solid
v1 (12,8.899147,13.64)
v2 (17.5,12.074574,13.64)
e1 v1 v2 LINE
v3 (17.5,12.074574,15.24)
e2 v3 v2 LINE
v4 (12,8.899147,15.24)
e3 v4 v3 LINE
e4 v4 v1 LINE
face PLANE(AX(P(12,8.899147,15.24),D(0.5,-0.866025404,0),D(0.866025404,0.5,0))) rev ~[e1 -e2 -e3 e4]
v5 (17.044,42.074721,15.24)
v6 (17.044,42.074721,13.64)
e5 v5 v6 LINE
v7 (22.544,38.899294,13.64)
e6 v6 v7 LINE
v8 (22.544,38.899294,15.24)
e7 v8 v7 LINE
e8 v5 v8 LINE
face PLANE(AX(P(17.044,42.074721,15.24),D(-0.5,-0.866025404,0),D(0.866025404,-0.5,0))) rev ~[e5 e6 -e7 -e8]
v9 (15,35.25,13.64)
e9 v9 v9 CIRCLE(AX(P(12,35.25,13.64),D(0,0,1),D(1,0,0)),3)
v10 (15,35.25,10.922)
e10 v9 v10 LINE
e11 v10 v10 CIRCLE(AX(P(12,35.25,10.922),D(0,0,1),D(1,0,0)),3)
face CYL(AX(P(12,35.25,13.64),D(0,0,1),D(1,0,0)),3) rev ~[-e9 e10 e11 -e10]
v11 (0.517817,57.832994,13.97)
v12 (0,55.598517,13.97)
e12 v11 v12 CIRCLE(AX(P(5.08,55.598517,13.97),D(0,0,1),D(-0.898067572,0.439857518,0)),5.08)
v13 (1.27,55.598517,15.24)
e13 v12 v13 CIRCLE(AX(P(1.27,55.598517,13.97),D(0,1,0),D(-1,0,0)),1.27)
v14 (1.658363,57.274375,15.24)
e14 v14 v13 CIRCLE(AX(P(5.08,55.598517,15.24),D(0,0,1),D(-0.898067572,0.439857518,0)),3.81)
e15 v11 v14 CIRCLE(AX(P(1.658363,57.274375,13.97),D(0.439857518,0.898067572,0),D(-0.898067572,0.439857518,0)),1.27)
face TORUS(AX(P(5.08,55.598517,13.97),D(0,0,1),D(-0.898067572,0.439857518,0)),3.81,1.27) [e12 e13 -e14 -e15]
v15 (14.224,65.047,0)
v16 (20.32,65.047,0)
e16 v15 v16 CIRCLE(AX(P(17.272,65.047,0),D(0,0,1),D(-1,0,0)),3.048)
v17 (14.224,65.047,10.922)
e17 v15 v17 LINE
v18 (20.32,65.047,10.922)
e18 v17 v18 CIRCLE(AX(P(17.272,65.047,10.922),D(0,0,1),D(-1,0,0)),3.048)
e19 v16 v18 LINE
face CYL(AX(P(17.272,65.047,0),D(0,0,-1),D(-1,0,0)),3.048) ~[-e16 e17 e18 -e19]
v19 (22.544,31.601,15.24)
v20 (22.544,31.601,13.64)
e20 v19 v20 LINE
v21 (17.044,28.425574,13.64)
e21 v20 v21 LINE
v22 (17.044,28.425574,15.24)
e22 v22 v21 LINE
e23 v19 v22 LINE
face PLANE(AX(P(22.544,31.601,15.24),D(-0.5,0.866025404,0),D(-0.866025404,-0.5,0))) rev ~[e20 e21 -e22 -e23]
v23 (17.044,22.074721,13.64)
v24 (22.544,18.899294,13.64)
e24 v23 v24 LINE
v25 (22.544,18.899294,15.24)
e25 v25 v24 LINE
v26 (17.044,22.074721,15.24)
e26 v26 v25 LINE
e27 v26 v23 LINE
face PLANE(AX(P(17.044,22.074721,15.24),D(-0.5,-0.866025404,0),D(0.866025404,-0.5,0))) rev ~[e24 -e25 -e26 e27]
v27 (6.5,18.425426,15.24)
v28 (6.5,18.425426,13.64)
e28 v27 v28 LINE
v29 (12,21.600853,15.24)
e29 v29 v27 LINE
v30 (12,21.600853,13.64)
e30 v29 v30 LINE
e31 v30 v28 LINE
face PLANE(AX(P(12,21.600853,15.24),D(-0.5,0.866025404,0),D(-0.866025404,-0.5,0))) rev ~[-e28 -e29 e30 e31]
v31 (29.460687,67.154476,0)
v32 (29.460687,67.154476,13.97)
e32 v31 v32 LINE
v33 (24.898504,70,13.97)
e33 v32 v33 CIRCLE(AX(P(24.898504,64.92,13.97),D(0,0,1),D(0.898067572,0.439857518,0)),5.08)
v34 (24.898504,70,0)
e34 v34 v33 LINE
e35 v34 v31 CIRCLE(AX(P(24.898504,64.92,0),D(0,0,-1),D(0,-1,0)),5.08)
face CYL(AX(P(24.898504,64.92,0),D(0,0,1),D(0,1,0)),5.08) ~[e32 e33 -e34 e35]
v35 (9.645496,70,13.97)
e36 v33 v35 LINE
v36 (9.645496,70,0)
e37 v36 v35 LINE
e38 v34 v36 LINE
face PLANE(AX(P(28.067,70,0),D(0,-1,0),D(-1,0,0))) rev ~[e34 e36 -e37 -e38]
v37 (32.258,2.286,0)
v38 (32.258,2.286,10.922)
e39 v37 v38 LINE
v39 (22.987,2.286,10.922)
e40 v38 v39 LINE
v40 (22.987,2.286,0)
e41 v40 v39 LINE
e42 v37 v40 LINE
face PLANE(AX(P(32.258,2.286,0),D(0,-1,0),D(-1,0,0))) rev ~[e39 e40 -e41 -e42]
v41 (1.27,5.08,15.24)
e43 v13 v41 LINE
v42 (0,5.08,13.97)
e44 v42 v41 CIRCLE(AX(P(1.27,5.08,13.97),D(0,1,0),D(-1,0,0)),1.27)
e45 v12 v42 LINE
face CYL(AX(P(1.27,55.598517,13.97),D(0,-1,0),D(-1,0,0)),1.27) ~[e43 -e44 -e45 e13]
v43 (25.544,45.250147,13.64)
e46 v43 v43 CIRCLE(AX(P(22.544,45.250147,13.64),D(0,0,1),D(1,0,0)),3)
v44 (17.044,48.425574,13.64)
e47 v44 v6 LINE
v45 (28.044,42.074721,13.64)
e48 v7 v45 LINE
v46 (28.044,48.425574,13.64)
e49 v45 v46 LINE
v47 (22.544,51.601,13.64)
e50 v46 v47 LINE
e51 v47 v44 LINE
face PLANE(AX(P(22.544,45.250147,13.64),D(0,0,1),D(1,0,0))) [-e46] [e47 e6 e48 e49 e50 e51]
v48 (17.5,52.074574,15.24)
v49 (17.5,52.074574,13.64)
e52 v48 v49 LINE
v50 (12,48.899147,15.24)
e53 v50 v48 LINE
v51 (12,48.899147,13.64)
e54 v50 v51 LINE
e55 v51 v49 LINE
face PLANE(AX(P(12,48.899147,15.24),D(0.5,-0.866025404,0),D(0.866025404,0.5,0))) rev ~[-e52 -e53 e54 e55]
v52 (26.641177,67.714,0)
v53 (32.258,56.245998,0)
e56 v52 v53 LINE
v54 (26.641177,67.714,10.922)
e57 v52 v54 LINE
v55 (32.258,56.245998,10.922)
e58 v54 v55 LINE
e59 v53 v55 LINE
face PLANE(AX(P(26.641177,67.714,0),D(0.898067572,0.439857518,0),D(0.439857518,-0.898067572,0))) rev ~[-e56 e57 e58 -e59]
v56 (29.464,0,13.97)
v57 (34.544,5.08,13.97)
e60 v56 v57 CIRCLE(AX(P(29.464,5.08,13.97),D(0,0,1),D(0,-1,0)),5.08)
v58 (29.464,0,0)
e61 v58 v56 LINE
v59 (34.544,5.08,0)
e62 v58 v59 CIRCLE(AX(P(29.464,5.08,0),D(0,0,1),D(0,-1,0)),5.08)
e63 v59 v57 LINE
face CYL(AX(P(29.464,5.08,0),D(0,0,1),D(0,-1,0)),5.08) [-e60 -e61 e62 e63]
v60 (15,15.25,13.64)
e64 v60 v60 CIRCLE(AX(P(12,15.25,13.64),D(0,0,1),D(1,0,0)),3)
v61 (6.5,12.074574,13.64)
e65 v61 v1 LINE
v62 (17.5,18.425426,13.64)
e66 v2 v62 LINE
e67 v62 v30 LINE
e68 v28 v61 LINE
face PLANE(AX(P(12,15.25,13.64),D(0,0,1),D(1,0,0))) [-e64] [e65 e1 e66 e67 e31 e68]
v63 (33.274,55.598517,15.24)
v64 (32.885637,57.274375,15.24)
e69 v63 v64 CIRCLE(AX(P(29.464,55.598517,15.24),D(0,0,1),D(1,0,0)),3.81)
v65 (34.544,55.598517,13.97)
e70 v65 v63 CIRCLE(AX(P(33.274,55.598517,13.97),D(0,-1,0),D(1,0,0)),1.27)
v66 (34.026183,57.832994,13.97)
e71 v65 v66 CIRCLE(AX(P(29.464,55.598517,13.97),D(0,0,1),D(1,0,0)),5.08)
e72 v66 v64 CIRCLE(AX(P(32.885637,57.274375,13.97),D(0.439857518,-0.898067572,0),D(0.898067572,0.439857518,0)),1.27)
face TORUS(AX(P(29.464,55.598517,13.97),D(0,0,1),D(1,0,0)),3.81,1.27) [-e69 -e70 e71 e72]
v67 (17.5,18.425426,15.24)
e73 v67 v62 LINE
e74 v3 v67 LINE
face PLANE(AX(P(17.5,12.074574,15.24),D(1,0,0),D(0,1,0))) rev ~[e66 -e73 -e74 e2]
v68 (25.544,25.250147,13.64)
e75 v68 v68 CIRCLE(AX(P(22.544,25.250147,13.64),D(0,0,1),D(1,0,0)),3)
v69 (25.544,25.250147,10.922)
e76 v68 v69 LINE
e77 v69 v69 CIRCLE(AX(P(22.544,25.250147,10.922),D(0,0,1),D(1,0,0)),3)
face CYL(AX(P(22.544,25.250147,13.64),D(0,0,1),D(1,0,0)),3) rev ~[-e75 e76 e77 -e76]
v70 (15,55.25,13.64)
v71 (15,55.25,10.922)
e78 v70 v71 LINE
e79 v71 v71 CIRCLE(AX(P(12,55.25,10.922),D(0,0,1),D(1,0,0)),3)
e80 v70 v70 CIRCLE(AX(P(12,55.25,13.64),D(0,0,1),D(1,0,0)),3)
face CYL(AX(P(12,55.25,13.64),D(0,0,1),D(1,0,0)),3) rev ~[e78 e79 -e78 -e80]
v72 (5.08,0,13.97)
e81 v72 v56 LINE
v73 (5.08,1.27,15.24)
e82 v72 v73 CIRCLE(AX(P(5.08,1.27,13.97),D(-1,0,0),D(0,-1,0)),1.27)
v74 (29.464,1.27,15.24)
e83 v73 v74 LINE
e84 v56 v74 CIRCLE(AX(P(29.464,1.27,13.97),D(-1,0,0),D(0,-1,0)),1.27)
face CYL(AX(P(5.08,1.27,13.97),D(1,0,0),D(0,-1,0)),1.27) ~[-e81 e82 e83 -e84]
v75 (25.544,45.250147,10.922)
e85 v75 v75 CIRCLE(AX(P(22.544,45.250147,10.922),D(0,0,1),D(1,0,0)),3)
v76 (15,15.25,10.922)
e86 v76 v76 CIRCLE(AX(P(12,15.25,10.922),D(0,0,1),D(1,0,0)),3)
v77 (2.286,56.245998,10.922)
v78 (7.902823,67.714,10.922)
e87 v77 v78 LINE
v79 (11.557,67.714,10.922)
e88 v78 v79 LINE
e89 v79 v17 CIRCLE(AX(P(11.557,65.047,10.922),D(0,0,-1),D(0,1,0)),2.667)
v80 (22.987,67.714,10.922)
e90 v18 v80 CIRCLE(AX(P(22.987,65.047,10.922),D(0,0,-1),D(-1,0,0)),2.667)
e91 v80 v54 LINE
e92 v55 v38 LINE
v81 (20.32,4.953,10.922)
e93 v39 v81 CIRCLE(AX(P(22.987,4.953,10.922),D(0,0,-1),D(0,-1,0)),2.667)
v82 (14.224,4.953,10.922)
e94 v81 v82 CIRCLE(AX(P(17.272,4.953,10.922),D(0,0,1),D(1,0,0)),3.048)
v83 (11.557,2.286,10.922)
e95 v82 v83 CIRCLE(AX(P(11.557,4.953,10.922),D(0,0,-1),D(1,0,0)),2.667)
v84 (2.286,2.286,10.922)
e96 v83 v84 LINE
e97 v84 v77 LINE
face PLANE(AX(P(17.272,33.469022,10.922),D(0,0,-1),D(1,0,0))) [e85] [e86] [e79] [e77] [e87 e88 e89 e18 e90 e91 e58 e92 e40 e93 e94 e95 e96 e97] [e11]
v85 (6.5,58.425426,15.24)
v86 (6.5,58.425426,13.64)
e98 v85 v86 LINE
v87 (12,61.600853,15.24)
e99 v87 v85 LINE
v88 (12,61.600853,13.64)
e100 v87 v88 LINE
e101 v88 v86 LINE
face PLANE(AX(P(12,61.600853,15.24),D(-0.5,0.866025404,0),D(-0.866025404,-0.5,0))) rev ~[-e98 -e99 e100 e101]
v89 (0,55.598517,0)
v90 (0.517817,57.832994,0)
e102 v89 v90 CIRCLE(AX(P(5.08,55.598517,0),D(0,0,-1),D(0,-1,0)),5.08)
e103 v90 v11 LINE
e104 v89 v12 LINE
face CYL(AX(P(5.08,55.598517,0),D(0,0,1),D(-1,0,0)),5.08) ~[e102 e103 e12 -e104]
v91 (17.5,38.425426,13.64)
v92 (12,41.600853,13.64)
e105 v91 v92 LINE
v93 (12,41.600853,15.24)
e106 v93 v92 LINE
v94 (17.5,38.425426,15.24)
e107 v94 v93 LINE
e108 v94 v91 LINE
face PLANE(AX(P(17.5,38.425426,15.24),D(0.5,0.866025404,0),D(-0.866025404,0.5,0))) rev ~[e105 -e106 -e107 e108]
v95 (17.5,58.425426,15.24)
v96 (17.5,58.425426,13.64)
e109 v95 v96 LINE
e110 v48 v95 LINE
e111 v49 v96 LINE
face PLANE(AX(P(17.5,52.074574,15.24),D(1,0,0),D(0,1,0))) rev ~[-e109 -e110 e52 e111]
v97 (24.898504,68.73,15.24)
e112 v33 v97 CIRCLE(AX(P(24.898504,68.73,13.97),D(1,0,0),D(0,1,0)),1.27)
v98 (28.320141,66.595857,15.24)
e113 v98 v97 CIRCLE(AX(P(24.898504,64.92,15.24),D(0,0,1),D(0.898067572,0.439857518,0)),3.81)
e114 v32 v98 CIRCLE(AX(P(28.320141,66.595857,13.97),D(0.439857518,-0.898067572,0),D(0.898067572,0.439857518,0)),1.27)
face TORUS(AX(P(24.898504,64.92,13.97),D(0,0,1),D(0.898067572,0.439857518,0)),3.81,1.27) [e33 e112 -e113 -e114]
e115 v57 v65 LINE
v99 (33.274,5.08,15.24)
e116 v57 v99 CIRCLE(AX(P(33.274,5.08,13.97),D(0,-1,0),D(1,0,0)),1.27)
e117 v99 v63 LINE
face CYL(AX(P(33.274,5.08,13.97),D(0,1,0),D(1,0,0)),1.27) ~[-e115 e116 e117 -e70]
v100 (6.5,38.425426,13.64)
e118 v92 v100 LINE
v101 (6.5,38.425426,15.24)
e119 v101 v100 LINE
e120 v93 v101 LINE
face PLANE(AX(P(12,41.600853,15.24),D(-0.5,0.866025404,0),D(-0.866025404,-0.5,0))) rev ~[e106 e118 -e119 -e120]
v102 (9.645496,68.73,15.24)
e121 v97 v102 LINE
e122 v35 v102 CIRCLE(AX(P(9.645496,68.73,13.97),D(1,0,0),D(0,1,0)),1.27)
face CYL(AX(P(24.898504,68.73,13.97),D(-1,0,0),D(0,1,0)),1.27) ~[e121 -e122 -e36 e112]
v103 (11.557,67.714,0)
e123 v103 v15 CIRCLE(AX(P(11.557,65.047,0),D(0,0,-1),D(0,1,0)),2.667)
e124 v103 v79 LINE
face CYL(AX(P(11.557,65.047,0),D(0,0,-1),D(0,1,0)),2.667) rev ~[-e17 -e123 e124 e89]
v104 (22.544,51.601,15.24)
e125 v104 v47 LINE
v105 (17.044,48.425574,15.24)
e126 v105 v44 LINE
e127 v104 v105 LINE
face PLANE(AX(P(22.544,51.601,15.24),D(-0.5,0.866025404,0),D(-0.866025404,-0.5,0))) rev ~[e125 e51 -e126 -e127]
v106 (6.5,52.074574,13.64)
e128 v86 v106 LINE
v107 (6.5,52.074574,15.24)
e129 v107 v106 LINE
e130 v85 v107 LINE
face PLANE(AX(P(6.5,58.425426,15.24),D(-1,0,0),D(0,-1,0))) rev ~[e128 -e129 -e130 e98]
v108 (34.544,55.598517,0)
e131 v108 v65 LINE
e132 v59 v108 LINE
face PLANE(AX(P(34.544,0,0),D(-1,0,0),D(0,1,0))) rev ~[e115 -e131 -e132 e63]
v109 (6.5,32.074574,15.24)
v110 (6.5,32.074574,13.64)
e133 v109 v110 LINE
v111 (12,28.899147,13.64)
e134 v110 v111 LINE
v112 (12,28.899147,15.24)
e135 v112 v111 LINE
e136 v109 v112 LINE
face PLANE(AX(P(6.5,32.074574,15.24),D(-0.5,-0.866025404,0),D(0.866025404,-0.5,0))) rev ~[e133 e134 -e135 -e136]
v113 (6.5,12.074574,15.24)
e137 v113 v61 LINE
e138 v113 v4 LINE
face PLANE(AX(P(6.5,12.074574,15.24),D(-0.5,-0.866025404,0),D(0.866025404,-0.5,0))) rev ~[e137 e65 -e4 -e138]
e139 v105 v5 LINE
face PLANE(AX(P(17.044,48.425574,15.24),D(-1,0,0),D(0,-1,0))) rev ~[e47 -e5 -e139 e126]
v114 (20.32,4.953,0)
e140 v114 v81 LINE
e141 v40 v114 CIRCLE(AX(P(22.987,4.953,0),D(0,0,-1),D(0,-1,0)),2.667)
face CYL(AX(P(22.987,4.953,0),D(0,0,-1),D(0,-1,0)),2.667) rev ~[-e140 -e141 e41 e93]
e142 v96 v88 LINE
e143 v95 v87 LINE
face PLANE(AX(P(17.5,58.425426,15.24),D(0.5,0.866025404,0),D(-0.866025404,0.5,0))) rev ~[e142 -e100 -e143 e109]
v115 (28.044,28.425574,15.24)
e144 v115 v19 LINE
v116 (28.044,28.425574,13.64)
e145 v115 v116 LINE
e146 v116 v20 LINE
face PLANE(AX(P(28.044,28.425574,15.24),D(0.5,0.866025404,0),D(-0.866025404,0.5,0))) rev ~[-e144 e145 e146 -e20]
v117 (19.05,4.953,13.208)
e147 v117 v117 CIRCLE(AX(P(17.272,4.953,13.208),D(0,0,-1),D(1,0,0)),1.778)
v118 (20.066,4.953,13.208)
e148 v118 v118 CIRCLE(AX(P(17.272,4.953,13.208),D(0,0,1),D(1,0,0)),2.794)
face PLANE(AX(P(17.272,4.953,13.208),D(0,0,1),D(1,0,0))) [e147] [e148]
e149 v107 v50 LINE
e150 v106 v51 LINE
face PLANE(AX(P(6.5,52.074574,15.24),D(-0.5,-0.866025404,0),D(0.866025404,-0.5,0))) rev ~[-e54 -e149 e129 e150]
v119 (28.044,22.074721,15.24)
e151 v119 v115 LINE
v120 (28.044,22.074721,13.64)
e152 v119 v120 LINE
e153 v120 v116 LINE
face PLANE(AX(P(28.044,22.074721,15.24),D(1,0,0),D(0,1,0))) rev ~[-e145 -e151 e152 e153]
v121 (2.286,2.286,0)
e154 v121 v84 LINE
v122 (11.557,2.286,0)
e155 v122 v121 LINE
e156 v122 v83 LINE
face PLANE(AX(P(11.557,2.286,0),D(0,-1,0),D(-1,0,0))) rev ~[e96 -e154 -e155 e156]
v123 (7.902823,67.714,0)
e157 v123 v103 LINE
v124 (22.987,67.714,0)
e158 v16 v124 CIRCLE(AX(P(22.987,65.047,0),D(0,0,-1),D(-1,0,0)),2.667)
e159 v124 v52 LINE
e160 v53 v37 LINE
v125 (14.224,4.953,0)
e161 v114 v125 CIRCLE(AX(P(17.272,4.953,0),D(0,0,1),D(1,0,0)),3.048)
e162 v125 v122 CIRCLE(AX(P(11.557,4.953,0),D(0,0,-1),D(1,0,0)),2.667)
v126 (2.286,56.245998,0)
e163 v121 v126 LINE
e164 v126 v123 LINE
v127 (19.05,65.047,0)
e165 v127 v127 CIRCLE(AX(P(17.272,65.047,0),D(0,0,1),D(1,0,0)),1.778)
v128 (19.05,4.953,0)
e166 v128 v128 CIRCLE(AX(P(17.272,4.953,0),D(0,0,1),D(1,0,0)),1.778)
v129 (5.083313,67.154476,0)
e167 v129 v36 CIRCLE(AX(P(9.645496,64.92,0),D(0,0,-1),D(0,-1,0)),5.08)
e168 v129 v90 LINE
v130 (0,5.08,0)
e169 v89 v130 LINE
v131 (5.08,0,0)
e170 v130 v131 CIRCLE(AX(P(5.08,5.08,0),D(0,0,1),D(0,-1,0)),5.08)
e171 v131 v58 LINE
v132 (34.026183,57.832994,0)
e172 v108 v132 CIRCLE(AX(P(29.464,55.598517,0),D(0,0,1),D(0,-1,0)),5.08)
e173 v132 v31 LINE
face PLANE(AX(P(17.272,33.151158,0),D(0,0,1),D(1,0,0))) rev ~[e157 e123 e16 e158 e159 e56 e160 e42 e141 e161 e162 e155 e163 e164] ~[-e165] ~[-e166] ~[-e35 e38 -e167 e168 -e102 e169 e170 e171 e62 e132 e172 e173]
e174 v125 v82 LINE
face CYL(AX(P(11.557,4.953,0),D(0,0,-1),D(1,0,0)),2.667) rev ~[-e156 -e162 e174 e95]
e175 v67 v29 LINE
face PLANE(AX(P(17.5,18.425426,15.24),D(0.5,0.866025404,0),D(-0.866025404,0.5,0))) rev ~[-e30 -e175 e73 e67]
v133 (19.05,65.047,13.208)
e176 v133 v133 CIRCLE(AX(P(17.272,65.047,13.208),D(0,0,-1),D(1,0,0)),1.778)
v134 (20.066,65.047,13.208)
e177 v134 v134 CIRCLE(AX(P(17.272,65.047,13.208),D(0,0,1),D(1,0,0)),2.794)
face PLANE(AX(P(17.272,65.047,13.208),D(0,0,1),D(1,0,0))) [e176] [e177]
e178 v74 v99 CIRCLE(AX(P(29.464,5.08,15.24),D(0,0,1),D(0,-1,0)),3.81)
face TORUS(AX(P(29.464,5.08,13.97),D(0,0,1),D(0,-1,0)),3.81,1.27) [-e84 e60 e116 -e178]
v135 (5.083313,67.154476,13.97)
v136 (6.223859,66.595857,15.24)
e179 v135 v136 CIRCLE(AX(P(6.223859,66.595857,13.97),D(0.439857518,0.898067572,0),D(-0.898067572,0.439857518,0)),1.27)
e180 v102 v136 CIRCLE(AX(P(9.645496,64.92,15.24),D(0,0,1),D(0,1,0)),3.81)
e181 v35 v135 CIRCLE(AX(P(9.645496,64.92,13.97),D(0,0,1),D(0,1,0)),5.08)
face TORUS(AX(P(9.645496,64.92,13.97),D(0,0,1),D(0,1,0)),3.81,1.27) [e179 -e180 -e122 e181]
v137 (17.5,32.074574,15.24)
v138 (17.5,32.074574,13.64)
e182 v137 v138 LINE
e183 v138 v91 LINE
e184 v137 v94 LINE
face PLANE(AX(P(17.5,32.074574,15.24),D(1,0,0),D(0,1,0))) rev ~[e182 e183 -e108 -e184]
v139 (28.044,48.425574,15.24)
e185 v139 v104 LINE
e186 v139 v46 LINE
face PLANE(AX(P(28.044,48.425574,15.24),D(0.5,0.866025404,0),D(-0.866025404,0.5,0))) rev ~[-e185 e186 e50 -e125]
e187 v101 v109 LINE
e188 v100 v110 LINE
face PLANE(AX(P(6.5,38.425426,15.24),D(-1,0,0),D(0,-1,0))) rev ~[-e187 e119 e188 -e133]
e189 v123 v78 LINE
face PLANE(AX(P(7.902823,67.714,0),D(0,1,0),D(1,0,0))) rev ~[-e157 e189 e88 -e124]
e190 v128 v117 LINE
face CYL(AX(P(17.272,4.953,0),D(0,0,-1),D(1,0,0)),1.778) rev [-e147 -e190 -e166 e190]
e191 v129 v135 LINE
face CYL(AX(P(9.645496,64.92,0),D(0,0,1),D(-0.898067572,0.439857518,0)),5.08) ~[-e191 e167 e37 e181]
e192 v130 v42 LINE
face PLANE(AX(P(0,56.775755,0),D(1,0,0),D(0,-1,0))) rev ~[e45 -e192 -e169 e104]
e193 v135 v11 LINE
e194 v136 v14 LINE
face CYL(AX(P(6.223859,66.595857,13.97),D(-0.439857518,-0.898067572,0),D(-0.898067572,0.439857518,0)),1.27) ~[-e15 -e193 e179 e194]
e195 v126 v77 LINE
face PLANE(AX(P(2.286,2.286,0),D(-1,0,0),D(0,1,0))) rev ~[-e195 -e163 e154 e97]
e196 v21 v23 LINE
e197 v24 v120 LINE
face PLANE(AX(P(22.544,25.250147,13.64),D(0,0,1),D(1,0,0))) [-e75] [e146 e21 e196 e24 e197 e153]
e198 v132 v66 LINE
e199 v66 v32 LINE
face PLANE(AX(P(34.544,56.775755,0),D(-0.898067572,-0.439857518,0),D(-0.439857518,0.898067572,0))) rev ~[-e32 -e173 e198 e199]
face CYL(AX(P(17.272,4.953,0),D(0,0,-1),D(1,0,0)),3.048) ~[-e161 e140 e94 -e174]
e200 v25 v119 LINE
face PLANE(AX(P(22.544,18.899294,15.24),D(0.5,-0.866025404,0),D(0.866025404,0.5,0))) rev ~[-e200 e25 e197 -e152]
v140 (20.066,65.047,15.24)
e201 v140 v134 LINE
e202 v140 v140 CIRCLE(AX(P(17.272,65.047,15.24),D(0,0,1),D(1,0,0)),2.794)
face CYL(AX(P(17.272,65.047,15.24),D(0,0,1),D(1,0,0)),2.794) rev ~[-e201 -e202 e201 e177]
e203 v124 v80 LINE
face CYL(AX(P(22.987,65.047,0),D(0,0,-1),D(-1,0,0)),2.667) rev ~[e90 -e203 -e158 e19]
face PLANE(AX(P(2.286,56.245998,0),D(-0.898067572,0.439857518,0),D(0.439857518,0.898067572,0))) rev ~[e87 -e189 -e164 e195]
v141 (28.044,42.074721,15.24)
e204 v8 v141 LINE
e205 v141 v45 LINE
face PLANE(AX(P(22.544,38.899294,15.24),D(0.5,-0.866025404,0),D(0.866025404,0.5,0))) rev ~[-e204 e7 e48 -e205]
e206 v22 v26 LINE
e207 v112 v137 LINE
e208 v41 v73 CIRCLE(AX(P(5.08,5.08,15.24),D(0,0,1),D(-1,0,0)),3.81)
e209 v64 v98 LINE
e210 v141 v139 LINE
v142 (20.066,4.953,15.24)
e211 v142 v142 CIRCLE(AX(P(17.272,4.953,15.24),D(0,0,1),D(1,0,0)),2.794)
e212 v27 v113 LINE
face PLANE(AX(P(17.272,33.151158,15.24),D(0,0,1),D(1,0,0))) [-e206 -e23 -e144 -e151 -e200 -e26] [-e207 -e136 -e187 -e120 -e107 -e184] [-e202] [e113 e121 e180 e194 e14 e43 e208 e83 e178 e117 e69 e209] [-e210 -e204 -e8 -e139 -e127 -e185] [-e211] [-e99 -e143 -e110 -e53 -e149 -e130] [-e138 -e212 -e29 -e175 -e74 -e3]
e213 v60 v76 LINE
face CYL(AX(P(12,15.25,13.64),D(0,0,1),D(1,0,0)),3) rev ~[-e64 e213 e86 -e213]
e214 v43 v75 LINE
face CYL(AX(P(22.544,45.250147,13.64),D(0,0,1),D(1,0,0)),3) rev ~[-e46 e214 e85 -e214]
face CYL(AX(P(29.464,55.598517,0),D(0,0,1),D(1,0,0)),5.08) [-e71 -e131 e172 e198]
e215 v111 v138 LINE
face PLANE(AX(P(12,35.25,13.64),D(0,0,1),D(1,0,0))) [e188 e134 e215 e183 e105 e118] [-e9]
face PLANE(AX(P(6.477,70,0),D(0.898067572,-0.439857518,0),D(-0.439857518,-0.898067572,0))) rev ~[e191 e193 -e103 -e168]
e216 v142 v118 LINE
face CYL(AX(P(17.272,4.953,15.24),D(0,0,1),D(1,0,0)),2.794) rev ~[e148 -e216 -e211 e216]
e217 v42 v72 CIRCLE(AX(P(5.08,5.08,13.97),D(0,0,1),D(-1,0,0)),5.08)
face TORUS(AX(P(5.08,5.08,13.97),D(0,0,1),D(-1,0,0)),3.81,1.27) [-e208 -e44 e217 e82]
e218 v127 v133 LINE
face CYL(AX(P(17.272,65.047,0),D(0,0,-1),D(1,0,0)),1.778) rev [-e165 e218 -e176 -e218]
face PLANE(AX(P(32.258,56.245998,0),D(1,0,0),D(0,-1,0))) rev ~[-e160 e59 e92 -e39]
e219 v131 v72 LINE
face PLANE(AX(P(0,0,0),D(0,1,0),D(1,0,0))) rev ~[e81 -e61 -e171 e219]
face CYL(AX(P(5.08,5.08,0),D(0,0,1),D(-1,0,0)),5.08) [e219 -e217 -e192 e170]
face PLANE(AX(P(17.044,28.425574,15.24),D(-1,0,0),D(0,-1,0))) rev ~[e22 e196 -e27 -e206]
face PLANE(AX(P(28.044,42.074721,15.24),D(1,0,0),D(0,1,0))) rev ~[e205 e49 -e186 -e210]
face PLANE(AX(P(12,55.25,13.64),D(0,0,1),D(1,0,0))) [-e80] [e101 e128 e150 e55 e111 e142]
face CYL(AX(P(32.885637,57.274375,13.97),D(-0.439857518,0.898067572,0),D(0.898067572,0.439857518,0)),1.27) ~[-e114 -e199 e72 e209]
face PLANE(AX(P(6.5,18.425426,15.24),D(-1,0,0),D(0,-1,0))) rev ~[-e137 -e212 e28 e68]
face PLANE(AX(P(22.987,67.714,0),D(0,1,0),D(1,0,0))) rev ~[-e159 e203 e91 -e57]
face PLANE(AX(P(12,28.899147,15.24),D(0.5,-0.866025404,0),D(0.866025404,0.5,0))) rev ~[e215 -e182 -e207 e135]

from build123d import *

# Parameters (mm, degrees)
F0_R      = 1.778
F1_DEPTH  = 15.24
F3_DEPTH  = 10.922
F4_R      = 5.08
F5_R      = 1.27
F6_R      = 2.794
F7_DEPTH  = 2.032
F9_DEPTH  = 1.6
F10_R     = 3
F11_DEPTH = 25
F12_R     = 3
F13_DEPTH = 25
F14_R     = 3
F15_DEPTH = 25
F16_R     = 3
F17_DEPTH = 25
F18_R     = 3
F19_DEPTH = 25


with BuildPart() as f1:
    # F0 (on Top) → F1 (new body)
    with BuildSketch(Plane.XY):
        Polygon((0, 56.7757548102), (0, 0), (34.544, 0), (34.544, 56.7757548102), (28.067, 70), (6.477, 70), align=None)
        with Locations((17.272, 4.953)):
            Circle(F0_R, mode=Mode.SUBTRACT)
        with Locations((17.272, 65.047)):
            Circle(F0_R, mode=Mode.SUBTRACT)
    extrude(amount=F1_DEPTH)

    # F2 (on face) → F3 (cut)
    with BuildSketch(Plane(origin=(0, 0, 0), x_dir=(1, 0, 0), z_dir=(0, 0, -1))):
        with BuildLine():
            Line((26.6411766499, -67.714), (32.258, -56.2459979667))
            Line((32.258, -56.2459979667), (32.258, -2.286))
            Line((32.258, -2.286), (22.987, -2.286))
            ThreePointArc((22.987, -2.286), (21.1011462146, -3.0671462146), (20.32, -4.953))
            ThreePointArc((20.32, -4.953), (17.272, -8.001), (14.224, -4.953))
            ThreePointArc((14.224, -4.953), (13.4428537854, -3.0671462146), (11.557, -2.286))
            Line((11.557, -2.286), (2.286, -2.286))
            Line((2.286, -2.286), (2.286, -56.2459979667))
            Line((2.286, -56.2459979667), (7.9028233501, -67.714))
            Line((7.9028233501, -67.714), (11.557, -67.714))
            ThreePointArc((11.557, -67.714), (13.4428537854, -66.9328537854), (14.224, -65.047))
            ThreePointArc((14.224, -65.047), (17.272, -61.999), (20.32, -65.047))
            ThreePointArc((20.32, -65.047), (21.1011462146, -66.9328537854), (22.987, -67.714))
            Line((22.987, -67.714), (26.6411766499, -67.714))
        make_face()
    extrude(amount=-F3_DEPTH, mode=Mode.SUBTRACT)

    # F4
    f4_edges = [f1.edges().sort_by_distance(p)[0] for p in [
        (6.477, 70, 7.62),
        (28.067, 70, 7.62),
        (34.544, 56.775755, 7.62),
        (34.544, 0, 7.62),
        (0, 0, 7.62),
        (0, 56.775755, 7.62),
    ]]
    fillet(f4_edges, radius=F4_R)

    # F5
    f5_edges = [f1.edges().sort_by_distance(p)[0] for p in [
        (1.487898, 1.487898, 15.24),
        (33.056102, 1.487898, 15.24),
        (34.412853, 56.745363, 15.24),
        (0.131147, 56.745363, 15.24),
        (27.586929, 69.23031, 15.24),
        (6.957071, 69.23031, 15.24),
        (17.272, 0, 15.24),
        (0, 30.339259, 15.24),
        (2.800565, 62.493735, 15.24),
        (17.272, 70, 15.24),
        (31.743435, 62.493735, 15.24),
        (34.544, 30.339259, 15.24),
    ]]
    fillet(f5_edges, radius=F5_R)

    # F6 (on face) → F7 (cut)
    with BuildSketch(Plane.XY.offset(15.24)):
        with Locations((17.272, 65.047)):
            Circle(F6_R)
        with Locations((17.272, 4.953)):
            Circle(F6_R)
    extrude(amount=-F7_DEPTH, mode=Mode.SUBTRACT)

    # F8 (on face) → F9 (cut)
    with BuildSketch(Plane.XY.offset(15.24)):
        Polygon((17.5, 18.4254264805), (12, 21.6008529611), (6.5, 18.4254264805), (6.5, 12.0745735195), (12, 8.8991470389), (17.5, 12.0745735195), align=None)
        Polygon((17.5, 38.4254264805), (12, 41.6008529611), (6.5, 38.4254264805), (6.5, 32.0745735195), (12, 28.8991470389), (17.5, 32.0745735195), align=None)
        Polygon((28.044, 42.0747205584), (28.044, 48.4255735195), (22.544, 51.601), (17.044, 48.4255735195), (17.044, 42.0747205584), (22.544, 38.8992940778), align=None)
        Polygon((6.5, 58.4254264805), (6.5, 52.0745735195), (12, 48.8991470389), (17.5, 52.0745735195), (17.5, 58.4254264805), (12, 61.6008529611), align=None)
        Polygon((28.044, 22.0747205584), (28.044, 28.4255735195), (22.544, 31.601), (17.044, 28.4255735195), (17.044, 22.0747205584), (22.544, 18.8992940778), align=None)
    extrude(amount=-F9_DEPTH, mode=Mode.SUBTRACT)

    # F10 (on face) → F11 (cut)
    with BuildSketch(Plane.XY.offset(13.64)):
        with Locations((12, 35.25)):
            Circle(F10_R)
    extrude(amount=-F11_DEPTH, mode=Mode.SUBTRACT)

    # F12 (on face) → F13 (cut)
    with BuildSketch(Plane.XY.offset(13.64)):
        with Locations((22.544, 45.2501470389)):
            Circle(F12_R)
    extrude(amount=-F13_DEPTH, mode=Mode.SUBTRACT)

    # F14 (on face) → F15 (cut)
    with BuildSketch(Plane.XY.offset(13.64)):
        with Locations((22.544, 25.2501470389)):
            Circle(F14_R)
    extrude(amount=-F15_DEPTH, mode=Mode.SUBTRACT)

    # F16 (on face) → F17 (cut)
    with BuildSketch(Plane.XY.offset(13.64)):
        with Locations((12, 15.25)):
            Circle(F16_R)
    extrude(amount=-F17_DEPTH, mode=Mode.SUBTRACT)

    # F18 (on face) → F19 (cut)
    with BuildSketch(Plane.XY.offset(13.64)):
        with Locations((12, 55.25)):
            Circle(F18_R)
    extrude(amount=-F19_DEPTH, mode=Mode.SUBTRACT)


solid = f1.part
